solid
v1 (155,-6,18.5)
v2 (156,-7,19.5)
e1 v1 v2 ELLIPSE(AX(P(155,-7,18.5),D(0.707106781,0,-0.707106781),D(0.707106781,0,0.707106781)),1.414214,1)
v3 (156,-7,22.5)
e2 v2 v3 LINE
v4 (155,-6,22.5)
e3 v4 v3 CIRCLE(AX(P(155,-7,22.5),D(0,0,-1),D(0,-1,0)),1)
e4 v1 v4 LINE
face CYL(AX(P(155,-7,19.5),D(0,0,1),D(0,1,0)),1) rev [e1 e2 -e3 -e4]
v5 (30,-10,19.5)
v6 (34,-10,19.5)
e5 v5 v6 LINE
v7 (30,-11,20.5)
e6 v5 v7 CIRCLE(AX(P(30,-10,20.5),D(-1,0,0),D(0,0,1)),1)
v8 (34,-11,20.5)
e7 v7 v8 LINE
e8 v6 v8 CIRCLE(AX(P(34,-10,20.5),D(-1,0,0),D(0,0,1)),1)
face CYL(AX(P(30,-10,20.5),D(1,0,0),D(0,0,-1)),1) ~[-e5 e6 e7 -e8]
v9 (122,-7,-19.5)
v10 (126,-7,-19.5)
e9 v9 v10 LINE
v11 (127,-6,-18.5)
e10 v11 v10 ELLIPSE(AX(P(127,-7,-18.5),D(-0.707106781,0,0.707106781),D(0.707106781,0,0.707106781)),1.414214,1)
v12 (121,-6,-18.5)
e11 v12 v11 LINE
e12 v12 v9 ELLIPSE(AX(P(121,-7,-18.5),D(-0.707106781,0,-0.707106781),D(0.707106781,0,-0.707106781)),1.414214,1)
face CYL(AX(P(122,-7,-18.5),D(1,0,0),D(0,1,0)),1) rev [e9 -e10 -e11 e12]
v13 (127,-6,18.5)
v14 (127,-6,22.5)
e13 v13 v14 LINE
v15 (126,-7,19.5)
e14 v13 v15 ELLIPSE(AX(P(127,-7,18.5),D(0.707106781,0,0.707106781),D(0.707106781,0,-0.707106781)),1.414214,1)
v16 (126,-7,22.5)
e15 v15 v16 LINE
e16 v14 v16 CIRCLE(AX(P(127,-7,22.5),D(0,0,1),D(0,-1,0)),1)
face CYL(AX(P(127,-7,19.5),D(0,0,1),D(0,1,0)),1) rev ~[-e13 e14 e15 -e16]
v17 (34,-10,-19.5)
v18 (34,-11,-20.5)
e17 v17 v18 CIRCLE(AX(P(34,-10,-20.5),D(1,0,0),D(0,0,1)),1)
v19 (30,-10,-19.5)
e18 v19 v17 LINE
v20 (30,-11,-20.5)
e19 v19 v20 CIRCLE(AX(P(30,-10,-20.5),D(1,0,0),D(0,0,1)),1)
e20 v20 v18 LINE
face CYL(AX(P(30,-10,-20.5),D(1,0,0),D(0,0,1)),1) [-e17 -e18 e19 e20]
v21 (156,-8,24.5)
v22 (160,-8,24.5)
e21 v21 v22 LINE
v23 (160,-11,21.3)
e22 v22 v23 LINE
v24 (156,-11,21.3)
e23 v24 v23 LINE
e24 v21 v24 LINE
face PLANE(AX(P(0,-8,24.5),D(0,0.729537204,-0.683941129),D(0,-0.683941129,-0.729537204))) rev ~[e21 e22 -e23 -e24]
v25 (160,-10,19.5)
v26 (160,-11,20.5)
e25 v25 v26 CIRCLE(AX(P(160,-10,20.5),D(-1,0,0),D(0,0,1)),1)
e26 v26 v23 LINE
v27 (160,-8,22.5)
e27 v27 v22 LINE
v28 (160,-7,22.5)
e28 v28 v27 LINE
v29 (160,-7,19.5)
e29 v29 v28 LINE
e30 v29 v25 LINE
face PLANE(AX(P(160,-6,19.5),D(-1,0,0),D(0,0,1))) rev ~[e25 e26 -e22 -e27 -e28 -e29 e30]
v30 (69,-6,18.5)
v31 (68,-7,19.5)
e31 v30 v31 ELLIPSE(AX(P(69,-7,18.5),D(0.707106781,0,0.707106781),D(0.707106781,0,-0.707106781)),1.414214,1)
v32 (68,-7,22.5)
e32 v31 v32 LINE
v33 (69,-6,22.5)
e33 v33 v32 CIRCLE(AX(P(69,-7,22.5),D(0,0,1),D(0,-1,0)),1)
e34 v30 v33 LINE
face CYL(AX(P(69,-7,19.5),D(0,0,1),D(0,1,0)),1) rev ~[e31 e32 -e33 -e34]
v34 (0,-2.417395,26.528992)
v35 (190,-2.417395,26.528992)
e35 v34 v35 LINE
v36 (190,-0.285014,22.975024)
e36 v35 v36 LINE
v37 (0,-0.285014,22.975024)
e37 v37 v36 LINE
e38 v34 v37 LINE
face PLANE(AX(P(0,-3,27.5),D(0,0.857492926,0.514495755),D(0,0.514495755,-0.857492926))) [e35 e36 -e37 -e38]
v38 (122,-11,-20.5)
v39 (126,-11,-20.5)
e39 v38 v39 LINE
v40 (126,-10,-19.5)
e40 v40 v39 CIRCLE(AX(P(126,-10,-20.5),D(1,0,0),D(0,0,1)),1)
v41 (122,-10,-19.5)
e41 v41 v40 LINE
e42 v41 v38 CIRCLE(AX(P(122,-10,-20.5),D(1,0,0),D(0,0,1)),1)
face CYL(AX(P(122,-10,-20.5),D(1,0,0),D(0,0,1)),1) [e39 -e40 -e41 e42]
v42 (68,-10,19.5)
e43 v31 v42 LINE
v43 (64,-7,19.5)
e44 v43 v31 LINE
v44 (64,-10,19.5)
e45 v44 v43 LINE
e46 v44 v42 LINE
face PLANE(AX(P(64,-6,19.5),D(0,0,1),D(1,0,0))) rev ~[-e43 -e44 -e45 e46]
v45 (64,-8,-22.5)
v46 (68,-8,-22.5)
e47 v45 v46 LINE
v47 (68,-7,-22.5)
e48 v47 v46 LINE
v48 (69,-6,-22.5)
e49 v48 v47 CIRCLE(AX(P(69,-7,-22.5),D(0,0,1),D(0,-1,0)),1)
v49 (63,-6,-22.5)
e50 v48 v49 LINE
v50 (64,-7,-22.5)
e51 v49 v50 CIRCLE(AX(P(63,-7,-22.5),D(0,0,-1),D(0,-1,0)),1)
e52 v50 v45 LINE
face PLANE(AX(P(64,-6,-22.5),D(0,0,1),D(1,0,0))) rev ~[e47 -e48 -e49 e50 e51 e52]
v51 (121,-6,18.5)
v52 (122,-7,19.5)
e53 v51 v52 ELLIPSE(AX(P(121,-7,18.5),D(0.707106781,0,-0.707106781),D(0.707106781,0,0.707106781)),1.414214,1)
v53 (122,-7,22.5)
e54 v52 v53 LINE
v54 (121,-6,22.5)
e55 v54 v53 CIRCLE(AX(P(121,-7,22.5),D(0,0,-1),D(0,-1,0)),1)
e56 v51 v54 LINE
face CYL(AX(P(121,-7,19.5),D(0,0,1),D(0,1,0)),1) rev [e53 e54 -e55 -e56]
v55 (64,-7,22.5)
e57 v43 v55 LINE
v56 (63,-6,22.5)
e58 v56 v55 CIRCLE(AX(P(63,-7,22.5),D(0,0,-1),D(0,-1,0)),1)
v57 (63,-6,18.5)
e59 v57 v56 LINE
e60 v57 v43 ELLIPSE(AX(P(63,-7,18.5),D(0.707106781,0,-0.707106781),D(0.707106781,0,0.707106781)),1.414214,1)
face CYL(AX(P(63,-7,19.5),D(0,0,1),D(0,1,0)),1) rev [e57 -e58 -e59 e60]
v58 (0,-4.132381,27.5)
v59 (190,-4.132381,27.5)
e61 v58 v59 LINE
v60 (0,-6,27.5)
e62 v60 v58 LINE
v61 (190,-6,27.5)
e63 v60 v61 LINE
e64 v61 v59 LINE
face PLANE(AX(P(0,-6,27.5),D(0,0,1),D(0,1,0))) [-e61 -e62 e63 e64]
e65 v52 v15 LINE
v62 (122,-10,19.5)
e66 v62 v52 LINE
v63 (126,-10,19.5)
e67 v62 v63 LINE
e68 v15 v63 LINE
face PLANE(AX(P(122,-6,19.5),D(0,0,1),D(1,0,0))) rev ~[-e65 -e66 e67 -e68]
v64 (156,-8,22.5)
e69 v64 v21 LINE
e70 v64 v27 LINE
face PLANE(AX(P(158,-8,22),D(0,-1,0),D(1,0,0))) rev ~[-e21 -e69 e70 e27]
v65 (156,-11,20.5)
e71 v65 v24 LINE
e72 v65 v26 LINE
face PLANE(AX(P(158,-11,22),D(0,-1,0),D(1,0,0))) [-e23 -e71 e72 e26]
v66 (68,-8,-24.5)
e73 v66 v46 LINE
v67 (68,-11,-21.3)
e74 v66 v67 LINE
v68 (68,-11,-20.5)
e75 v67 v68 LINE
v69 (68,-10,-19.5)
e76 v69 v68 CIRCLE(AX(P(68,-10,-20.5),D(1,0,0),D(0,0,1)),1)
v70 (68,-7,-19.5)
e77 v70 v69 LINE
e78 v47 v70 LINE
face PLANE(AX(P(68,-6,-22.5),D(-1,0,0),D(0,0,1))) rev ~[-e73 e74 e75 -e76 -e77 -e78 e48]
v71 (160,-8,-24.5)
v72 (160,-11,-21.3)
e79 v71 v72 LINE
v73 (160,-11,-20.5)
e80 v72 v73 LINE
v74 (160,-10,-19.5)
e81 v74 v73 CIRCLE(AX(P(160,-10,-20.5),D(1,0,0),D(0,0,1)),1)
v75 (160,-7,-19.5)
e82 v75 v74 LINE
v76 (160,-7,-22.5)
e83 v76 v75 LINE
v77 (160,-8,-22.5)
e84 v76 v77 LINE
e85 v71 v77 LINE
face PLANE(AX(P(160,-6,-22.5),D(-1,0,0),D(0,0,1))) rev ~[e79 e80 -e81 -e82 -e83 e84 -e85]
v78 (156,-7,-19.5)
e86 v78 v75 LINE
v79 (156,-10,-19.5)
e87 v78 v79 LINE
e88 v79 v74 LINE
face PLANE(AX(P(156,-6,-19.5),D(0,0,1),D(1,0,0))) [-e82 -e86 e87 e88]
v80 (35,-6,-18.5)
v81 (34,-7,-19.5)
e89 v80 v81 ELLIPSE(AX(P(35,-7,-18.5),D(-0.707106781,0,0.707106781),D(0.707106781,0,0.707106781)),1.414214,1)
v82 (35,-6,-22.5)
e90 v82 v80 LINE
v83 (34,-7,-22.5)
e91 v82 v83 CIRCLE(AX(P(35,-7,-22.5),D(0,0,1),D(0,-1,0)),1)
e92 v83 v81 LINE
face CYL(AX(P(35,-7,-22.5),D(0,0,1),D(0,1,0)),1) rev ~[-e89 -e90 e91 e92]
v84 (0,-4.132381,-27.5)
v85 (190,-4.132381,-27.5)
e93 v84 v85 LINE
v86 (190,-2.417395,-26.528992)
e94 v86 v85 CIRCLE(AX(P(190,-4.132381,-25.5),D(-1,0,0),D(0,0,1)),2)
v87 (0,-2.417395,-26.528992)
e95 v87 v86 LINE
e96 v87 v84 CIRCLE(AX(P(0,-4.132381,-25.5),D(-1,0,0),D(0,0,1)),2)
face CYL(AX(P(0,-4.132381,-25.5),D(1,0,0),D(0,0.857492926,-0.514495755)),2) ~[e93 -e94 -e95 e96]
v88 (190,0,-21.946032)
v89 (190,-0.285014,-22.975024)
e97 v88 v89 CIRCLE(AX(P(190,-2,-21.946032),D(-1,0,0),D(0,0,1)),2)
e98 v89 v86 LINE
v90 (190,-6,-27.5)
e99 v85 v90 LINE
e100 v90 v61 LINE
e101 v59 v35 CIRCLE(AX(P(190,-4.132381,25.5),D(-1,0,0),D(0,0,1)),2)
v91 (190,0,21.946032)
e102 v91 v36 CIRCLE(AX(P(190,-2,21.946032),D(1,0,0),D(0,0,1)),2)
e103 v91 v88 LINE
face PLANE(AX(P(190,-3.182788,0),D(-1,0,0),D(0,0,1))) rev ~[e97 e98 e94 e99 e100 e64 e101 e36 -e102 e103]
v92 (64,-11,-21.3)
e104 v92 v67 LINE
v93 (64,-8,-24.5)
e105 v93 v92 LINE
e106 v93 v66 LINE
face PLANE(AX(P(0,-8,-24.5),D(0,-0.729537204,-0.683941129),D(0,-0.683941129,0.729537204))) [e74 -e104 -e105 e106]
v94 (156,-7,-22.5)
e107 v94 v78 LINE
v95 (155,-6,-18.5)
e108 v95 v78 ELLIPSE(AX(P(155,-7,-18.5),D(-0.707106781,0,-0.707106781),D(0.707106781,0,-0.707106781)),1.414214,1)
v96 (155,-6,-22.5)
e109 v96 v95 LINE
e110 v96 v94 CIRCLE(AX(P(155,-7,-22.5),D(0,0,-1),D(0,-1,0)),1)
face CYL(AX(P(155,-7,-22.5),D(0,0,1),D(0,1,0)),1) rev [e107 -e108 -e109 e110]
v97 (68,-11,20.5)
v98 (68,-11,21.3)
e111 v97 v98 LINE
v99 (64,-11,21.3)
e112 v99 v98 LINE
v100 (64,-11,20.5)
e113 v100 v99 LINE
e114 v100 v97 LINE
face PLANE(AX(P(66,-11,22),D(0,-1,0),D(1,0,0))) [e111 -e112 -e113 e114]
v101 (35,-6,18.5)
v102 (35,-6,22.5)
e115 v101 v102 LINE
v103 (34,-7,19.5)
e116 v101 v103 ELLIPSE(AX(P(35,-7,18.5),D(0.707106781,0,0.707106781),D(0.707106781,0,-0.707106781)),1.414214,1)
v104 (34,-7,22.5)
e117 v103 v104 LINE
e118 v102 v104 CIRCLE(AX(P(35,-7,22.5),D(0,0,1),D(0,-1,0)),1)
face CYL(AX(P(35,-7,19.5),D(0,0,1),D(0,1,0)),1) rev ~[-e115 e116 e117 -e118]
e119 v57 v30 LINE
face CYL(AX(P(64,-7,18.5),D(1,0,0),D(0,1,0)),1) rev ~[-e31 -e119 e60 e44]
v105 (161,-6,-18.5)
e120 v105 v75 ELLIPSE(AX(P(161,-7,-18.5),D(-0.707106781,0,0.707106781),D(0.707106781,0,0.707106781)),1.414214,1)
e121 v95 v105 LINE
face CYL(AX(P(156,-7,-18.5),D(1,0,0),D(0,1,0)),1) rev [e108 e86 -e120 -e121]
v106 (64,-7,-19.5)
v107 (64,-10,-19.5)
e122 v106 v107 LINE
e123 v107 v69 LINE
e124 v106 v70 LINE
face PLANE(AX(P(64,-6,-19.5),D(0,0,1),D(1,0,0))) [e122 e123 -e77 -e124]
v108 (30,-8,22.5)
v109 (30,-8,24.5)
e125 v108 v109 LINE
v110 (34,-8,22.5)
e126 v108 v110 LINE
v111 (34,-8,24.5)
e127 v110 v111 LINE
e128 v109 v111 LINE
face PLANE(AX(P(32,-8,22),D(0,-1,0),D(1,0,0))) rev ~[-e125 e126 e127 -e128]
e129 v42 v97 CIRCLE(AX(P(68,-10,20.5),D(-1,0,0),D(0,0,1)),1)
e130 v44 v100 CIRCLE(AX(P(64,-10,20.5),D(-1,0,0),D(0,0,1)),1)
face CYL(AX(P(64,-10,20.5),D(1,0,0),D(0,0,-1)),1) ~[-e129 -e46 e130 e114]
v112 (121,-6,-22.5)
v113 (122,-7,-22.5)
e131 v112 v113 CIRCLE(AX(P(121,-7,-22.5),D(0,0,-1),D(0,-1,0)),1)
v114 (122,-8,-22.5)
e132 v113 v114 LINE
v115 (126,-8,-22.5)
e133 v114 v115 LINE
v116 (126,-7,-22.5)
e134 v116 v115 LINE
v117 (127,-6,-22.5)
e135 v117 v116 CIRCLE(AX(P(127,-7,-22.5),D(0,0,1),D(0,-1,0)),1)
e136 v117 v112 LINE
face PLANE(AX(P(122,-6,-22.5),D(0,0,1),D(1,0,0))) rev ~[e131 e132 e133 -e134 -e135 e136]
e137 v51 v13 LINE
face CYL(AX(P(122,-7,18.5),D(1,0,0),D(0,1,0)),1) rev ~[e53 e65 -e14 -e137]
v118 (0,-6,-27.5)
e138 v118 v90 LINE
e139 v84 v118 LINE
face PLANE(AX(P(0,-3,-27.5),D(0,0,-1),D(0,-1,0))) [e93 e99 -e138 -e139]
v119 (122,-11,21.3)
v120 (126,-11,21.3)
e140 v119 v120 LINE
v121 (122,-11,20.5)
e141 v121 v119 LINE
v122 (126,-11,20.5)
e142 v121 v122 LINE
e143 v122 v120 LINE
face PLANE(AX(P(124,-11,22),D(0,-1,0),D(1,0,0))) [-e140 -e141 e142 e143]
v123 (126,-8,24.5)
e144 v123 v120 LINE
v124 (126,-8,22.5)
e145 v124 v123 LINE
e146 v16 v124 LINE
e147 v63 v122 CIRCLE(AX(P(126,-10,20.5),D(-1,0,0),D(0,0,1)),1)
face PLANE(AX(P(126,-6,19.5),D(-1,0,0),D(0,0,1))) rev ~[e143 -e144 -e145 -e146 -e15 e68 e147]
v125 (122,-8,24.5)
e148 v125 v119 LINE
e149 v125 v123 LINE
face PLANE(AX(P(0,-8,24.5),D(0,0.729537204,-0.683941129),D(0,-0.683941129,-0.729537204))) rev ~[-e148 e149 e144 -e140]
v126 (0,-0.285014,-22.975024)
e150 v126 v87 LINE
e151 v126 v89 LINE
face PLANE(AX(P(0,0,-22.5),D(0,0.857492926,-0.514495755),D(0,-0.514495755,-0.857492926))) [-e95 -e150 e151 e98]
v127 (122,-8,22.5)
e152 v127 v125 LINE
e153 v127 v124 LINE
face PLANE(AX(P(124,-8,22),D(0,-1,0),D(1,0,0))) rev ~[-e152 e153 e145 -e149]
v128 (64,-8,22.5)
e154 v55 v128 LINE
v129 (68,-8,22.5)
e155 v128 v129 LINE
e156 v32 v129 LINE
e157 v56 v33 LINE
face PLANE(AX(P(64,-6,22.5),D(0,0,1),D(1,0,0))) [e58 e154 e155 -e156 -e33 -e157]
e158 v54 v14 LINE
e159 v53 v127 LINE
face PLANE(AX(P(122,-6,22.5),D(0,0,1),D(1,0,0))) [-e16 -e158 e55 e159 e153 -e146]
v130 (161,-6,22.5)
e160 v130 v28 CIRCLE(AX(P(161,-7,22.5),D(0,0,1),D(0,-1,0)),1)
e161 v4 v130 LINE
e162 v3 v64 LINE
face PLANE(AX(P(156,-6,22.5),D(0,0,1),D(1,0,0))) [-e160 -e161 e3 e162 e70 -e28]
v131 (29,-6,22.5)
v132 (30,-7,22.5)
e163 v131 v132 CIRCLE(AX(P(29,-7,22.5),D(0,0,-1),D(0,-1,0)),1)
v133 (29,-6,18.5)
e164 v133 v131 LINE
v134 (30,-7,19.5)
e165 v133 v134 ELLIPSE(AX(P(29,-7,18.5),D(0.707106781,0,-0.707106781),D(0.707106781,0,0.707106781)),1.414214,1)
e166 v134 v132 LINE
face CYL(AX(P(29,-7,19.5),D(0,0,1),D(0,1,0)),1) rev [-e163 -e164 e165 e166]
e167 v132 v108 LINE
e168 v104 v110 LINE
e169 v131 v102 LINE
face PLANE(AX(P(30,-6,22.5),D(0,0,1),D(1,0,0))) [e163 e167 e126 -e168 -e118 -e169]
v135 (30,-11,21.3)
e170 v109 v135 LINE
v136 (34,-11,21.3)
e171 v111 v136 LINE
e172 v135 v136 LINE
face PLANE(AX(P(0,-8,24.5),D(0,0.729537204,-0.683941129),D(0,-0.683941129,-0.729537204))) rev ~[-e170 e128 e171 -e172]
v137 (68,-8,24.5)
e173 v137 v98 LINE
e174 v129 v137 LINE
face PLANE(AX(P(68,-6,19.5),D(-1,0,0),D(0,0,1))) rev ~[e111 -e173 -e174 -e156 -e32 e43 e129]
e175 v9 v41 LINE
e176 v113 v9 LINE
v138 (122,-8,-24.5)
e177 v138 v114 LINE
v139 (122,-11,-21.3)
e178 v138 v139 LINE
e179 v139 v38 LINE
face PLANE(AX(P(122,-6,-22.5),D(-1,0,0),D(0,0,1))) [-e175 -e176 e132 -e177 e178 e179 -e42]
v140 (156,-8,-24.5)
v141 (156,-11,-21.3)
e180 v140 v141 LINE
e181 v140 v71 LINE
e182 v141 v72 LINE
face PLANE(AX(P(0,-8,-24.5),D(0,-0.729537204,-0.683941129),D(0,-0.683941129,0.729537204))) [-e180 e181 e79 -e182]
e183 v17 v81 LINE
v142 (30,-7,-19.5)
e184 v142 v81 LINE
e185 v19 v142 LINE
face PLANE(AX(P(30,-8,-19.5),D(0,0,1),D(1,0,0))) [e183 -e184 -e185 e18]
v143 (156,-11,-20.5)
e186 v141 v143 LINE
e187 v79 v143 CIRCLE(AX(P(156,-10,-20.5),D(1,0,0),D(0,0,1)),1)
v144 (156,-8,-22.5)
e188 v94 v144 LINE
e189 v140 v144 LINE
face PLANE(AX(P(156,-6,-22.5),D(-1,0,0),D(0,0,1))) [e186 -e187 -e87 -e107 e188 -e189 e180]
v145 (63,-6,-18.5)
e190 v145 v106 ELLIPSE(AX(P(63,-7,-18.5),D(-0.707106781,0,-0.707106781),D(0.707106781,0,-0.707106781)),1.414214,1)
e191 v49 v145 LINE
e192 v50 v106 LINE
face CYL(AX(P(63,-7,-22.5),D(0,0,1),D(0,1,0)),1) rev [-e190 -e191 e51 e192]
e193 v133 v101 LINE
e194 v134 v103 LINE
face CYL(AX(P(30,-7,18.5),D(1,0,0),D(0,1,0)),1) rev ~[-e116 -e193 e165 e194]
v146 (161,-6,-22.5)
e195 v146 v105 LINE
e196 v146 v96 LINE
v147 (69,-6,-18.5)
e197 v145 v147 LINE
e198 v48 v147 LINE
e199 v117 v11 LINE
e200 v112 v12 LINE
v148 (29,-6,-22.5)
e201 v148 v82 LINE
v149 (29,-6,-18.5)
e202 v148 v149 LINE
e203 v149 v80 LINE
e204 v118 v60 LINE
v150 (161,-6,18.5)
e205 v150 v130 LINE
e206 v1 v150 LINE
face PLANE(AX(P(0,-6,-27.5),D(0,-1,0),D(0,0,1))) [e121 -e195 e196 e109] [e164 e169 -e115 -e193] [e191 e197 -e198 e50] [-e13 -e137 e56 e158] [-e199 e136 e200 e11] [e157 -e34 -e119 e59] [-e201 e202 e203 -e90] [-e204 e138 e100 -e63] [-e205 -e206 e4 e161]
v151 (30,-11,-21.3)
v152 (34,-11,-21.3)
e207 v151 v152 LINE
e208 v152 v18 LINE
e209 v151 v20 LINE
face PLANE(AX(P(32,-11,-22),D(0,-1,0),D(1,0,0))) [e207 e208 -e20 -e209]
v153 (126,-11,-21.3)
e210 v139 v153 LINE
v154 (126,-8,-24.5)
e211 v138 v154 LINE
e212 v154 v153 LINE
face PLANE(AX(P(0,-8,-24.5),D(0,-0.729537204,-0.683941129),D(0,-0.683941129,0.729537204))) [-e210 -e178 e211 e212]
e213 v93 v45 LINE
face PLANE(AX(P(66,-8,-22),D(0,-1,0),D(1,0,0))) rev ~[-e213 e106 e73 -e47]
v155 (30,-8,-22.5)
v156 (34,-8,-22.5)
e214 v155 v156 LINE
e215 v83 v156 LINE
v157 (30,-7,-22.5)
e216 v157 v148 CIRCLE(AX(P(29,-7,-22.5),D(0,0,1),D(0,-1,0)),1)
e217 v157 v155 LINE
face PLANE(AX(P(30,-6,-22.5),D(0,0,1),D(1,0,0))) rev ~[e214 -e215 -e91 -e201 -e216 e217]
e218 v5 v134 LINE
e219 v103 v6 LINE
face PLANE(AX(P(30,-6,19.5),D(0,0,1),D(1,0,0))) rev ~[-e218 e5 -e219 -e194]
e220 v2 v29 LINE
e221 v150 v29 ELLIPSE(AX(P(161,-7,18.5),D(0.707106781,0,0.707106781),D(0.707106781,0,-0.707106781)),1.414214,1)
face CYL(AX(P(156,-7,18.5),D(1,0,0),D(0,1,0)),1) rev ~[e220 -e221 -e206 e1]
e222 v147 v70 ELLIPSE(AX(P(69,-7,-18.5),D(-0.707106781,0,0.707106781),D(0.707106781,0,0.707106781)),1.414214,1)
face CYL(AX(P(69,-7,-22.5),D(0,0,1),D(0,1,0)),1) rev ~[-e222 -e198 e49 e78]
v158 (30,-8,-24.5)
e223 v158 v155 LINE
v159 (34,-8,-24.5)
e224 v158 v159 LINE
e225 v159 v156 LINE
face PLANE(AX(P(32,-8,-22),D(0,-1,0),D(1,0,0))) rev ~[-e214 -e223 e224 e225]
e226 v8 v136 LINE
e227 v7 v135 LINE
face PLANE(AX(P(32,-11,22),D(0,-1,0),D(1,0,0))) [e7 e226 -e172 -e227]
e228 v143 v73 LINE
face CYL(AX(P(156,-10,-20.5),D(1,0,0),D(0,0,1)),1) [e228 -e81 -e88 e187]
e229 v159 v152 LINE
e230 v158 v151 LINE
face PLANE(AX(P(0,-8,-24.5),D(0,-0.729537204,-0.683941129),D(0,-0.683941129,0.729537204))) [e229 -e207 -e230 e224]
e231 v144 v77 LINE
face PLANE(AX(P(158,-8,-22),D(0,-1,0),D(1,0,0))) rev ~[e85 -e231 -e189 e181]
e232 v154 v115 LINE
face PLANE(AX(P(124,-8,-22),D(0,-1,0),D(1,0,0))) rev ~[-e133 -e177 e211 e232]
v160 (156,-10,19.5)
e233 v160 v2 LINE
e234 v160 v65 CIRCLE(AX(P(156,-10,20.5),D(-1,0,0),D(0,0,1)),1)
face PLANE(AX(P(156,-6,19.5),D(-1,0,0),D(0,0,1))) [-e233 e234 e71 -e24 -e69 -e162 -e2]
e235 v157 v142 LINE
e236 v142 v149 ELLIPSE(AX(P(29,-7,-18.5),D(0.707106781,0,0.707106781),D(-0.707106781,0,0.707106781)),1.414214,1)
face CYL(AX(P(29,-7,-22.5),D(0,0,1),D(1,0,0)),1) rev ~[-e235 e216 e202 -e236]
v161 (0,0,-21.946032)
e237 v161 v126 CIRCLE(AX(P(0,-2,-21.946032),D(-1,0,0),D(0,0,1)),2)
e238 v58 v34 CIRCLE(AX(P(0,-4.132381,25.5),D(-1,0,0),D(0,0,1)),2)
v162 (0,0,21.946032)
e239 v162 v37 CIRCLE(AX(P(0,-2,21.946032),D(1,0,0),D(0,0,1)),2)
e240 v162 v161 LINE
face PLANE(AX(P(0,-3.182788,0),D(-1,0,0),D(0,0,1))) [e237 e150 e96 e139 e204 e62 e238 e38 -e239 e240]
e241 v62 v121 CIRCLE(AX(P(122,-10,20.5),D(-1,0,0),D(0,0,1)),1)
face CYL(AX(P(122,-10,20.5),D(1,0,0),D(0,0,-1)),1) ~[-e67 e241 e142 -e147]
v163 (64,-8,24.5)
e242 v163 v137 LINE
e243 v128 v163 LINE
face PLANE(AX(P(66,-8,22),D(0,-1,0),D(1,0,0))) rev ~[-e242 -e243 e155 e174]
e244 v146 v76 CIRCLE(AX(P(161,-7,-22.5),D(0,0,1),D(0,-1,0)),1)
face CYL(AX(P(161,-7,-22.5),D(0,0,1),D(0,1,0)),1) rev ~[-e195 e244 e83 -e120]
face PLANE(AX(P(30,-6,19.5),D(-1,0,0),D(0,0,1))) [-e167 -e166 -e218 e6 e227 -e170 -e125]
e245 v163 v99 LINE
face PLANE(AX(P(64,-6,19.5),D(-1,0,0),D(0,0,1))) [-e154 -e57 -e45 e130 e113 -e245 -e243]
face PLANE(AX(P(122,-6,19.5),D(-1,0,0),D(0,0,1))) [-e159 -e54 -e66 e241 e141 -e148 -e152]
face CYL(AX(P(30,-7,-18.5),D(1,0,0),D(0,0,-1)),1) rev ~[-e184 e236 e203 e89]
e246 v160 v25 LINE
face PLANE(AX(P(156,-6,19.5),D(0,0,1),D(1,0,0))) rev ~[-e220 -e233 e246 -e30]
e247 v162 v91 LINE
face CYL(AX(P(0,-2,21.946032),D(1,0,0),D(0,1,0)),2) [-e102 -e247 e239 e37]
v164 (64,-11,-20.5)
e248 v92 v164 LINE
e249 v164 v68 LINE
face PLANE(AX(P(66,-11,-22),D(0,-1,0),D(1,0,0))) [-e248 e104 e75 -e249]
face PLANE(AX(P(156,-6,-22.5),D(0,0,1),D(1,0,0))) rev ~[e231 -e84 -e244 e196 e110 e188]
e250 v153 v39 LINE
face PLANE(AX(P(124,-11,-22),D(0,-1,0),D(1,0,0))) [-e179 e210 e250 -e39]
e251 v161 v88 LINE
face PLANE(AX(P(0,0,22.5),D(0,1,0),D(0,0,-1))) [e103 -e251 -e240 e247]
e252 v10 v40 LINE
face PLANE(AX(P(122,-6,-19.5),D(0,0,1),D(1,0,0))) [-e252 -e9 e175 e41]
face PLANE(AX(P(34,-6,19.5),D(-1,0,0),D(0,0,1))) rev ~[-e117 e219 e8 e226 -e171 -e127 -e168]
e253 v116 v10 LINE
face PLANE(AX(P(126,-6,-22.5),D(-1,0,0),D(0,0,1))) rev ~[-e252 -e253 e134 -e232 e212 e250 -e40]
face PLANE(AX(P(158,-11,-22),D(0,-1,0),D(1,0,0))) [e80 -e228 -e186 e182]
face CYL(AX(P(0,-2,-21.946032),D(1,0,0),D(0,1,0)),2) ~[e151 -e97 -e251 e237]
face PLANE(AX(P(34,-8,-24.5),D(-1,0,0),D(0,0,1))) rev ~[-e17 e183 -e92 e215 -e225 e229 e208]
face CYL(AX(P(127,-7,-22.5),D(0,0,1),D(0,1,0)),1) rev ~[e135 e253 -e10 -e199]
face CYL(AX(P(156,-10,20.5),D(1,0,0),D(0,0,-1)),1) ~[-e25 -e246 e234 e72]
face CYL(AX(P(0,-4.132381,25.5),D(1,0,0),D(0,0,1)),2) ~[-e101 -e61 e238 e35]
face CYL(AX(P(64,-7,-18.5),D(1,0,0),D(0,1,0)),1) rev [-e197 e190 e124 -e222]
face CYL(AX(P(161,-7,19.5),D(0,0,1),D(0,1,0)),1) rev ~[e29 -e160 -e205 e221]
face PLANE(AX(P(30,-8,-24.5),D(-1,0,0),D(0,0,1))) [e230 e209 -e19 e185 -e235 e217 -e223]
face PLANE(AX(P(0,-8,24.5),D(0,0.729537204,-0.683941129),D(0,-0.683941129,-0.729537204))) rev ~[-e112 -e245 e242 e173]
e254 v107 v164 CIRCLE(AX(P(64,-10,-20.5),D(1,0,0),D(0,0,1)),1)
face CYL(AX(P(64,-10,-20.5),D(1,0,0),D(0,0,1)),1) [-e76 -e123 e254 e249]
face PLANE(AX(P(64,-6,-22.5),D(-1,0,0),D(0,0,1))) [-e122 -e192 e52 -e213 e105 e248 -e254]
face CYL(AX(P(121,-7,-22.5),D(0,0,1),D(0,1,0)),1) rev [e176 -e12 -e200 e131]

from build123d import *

# Parameters (mm, degrees)
BOSS_EXTRUDE1_DEPTH = 190
FILLET1_R           = 2
SKETCH2_W           = 4
SKETCH2_H           = 3
BOSS_EXTRUDE2_DEPTH = 2
SKETCH3_W           = 4
SKETCH3_H           = 5
BOSS_EXTRUDE3_DEPTH = 3
CUT_EXTRUDE2_DEPTH  = 193.294695715
FILLET2_R           = 1
FILLET3_R           = 1


with BuildPart() as part:
    # Sketch1 → Boss-Extrude1 (new body)
    with BuildSketch(Plane(origin=(0, 0, 0), x_dir=(0, 0, -1), z_dir=(1, 0, 0))):
        Polygon((-22.5, 0), (22.5, 0), (27.5, -3), (27.5, -6), (-27.5, -6), (-27.5, -3), align=None)
    extrude(amount=BOSS_EXTRUDE1_DEPTH)

    # Fillet1
    fillet1_edges = [part.edges().sort_by_distance(p)[0] for p in [
        (95, 0, 22.5),
        (95, 0, -22.5),
        (95, -3, -27.5),
        (95, -3, 27.5),
    ]]
    fillet(fillet1_edges, radius=FILLET1_R)

    # Sketch2 → Boss-Extrude2 (add)
    with BuildSketch(Plane.XZ.offset(6)):
        with Locations((32, -21)):
            Rectangle(SKETCH2_W, SKETCH2_H)
        with Locations((32, 21)):
            Rectangle(SKETCH2_W, SKETCH2_H)
        with Locations((66, -21)):
            Rectangle(SKETCH2_W, SKETCH2_H)
        with Locations((66, 21)):
            Rectangle(SKETCH2_W, SKETCH2_H)
        with Locations((158, -21)):
            Rectangle(SKETCH2_W, SKETCH2_H)
        with Locations((124, -21)):
            Rectangle(SKETCH2_W, SKETCH2_H)
        with Locations((124, 21)):
            Rectangle(SKETCH2_W, SKETCH2_H)
        with Locations((158, 21)):
            Rectangle(SKETCH2_W, SKETCH2_H)
    extrude(amount=BOSS_EXTRUDE2_DEPTH)

    # Sketch3 → Boss-Extrude3 (add)
    with BuildSketch(Plane.XZ.offset(8)):
        with Locations((32, -22)):
            Rectangle(SKETCH3_W, SKETCH3_H)
        with Locations((32, 22)):
            Rectangle(SKETCH3_W, SKETCH3_H)
        with Locations((66, -22)):
            Rectangle(SKETCH3_W, SKETCH3_H)
        with Locations((66, 22)):
            Rectangle(SKETCH3_W, SKETCH3_H)
        with Locations((158, -22)):
            Rectangle(SKETCH3_W, SKETCH3_H)
        with Locations((124, -22)):
            Rectangle(SKETCH3_W, SKETCH3_H)
        with Locations((124, 22)):
            Rectangle(SKETCH3_W, SKETCH3_H)
        with Locations((158, 22)):
            Rectangle(SKETCH3_W, SKETCH3_H)
    extrude(amount=BOSS_EXTRUDE3_DEPTH)

    # Sketch4 → Cut-Extrude2 (cut, through all)
    with BuildSketch(Plane.ZY):
        Polygon((-24.5, -8), (-21.3, -11), (-24.5, -11), align=None)
        Polygon((24.5, -8), (21.3, -11), (24.5, -11), align=None)
    extrude(amount=-CUT_EXTRUDE2_DEPTH, mode=Mode.SUBTRACT)

    # Fillet2
    fillet2_edges = [part.edges().sort_by_distance(p)[0] for p in [
        (32, -11, -19.5),
        (32, -11, 19.5),
        (66, -11, -19.5),
        (66, -11, 19.5),
        (158, -11, -19.5),
        (124, -11, -19.5),
        (124, -11, 19.5),
        (158, -11, 19.5),
    ]]
    fillet(fillet2_edges, radius=FILLET2_R)

    # Fillet3
    fillet3_edges = [part.edges().sort_by_distance(p)[0] for p in [
        (124, -6, -19.5),
        (122, -6, -21),
        (126, -6, -21),
        (122, -6, 21),
        (124, -6, 19.5),
        (126, -6, 21),
        (158, -6, 19.5),
        (160, -6, 21),
        (156, -6, 21),
        (30, -6, -21),
        (34, -6, -21),
        (32, -6, -19.5),
        (30, -6, 21),
        (32, -6, 19.5),
        (34, -6, 21),
        (68, -6, -21),
        (66, -6, -19.5),
        (64, -6, -21),
        (66, -6, 19.5),
        (68, -6, 21),
        (64, -6, 21),
        (160, -6, -21),
        (158, -6, -19.5),
        (156, -6, -21),
    ]]
    fillet(fillet3_edges, radius=FILLET3_R)


solid = part.part
